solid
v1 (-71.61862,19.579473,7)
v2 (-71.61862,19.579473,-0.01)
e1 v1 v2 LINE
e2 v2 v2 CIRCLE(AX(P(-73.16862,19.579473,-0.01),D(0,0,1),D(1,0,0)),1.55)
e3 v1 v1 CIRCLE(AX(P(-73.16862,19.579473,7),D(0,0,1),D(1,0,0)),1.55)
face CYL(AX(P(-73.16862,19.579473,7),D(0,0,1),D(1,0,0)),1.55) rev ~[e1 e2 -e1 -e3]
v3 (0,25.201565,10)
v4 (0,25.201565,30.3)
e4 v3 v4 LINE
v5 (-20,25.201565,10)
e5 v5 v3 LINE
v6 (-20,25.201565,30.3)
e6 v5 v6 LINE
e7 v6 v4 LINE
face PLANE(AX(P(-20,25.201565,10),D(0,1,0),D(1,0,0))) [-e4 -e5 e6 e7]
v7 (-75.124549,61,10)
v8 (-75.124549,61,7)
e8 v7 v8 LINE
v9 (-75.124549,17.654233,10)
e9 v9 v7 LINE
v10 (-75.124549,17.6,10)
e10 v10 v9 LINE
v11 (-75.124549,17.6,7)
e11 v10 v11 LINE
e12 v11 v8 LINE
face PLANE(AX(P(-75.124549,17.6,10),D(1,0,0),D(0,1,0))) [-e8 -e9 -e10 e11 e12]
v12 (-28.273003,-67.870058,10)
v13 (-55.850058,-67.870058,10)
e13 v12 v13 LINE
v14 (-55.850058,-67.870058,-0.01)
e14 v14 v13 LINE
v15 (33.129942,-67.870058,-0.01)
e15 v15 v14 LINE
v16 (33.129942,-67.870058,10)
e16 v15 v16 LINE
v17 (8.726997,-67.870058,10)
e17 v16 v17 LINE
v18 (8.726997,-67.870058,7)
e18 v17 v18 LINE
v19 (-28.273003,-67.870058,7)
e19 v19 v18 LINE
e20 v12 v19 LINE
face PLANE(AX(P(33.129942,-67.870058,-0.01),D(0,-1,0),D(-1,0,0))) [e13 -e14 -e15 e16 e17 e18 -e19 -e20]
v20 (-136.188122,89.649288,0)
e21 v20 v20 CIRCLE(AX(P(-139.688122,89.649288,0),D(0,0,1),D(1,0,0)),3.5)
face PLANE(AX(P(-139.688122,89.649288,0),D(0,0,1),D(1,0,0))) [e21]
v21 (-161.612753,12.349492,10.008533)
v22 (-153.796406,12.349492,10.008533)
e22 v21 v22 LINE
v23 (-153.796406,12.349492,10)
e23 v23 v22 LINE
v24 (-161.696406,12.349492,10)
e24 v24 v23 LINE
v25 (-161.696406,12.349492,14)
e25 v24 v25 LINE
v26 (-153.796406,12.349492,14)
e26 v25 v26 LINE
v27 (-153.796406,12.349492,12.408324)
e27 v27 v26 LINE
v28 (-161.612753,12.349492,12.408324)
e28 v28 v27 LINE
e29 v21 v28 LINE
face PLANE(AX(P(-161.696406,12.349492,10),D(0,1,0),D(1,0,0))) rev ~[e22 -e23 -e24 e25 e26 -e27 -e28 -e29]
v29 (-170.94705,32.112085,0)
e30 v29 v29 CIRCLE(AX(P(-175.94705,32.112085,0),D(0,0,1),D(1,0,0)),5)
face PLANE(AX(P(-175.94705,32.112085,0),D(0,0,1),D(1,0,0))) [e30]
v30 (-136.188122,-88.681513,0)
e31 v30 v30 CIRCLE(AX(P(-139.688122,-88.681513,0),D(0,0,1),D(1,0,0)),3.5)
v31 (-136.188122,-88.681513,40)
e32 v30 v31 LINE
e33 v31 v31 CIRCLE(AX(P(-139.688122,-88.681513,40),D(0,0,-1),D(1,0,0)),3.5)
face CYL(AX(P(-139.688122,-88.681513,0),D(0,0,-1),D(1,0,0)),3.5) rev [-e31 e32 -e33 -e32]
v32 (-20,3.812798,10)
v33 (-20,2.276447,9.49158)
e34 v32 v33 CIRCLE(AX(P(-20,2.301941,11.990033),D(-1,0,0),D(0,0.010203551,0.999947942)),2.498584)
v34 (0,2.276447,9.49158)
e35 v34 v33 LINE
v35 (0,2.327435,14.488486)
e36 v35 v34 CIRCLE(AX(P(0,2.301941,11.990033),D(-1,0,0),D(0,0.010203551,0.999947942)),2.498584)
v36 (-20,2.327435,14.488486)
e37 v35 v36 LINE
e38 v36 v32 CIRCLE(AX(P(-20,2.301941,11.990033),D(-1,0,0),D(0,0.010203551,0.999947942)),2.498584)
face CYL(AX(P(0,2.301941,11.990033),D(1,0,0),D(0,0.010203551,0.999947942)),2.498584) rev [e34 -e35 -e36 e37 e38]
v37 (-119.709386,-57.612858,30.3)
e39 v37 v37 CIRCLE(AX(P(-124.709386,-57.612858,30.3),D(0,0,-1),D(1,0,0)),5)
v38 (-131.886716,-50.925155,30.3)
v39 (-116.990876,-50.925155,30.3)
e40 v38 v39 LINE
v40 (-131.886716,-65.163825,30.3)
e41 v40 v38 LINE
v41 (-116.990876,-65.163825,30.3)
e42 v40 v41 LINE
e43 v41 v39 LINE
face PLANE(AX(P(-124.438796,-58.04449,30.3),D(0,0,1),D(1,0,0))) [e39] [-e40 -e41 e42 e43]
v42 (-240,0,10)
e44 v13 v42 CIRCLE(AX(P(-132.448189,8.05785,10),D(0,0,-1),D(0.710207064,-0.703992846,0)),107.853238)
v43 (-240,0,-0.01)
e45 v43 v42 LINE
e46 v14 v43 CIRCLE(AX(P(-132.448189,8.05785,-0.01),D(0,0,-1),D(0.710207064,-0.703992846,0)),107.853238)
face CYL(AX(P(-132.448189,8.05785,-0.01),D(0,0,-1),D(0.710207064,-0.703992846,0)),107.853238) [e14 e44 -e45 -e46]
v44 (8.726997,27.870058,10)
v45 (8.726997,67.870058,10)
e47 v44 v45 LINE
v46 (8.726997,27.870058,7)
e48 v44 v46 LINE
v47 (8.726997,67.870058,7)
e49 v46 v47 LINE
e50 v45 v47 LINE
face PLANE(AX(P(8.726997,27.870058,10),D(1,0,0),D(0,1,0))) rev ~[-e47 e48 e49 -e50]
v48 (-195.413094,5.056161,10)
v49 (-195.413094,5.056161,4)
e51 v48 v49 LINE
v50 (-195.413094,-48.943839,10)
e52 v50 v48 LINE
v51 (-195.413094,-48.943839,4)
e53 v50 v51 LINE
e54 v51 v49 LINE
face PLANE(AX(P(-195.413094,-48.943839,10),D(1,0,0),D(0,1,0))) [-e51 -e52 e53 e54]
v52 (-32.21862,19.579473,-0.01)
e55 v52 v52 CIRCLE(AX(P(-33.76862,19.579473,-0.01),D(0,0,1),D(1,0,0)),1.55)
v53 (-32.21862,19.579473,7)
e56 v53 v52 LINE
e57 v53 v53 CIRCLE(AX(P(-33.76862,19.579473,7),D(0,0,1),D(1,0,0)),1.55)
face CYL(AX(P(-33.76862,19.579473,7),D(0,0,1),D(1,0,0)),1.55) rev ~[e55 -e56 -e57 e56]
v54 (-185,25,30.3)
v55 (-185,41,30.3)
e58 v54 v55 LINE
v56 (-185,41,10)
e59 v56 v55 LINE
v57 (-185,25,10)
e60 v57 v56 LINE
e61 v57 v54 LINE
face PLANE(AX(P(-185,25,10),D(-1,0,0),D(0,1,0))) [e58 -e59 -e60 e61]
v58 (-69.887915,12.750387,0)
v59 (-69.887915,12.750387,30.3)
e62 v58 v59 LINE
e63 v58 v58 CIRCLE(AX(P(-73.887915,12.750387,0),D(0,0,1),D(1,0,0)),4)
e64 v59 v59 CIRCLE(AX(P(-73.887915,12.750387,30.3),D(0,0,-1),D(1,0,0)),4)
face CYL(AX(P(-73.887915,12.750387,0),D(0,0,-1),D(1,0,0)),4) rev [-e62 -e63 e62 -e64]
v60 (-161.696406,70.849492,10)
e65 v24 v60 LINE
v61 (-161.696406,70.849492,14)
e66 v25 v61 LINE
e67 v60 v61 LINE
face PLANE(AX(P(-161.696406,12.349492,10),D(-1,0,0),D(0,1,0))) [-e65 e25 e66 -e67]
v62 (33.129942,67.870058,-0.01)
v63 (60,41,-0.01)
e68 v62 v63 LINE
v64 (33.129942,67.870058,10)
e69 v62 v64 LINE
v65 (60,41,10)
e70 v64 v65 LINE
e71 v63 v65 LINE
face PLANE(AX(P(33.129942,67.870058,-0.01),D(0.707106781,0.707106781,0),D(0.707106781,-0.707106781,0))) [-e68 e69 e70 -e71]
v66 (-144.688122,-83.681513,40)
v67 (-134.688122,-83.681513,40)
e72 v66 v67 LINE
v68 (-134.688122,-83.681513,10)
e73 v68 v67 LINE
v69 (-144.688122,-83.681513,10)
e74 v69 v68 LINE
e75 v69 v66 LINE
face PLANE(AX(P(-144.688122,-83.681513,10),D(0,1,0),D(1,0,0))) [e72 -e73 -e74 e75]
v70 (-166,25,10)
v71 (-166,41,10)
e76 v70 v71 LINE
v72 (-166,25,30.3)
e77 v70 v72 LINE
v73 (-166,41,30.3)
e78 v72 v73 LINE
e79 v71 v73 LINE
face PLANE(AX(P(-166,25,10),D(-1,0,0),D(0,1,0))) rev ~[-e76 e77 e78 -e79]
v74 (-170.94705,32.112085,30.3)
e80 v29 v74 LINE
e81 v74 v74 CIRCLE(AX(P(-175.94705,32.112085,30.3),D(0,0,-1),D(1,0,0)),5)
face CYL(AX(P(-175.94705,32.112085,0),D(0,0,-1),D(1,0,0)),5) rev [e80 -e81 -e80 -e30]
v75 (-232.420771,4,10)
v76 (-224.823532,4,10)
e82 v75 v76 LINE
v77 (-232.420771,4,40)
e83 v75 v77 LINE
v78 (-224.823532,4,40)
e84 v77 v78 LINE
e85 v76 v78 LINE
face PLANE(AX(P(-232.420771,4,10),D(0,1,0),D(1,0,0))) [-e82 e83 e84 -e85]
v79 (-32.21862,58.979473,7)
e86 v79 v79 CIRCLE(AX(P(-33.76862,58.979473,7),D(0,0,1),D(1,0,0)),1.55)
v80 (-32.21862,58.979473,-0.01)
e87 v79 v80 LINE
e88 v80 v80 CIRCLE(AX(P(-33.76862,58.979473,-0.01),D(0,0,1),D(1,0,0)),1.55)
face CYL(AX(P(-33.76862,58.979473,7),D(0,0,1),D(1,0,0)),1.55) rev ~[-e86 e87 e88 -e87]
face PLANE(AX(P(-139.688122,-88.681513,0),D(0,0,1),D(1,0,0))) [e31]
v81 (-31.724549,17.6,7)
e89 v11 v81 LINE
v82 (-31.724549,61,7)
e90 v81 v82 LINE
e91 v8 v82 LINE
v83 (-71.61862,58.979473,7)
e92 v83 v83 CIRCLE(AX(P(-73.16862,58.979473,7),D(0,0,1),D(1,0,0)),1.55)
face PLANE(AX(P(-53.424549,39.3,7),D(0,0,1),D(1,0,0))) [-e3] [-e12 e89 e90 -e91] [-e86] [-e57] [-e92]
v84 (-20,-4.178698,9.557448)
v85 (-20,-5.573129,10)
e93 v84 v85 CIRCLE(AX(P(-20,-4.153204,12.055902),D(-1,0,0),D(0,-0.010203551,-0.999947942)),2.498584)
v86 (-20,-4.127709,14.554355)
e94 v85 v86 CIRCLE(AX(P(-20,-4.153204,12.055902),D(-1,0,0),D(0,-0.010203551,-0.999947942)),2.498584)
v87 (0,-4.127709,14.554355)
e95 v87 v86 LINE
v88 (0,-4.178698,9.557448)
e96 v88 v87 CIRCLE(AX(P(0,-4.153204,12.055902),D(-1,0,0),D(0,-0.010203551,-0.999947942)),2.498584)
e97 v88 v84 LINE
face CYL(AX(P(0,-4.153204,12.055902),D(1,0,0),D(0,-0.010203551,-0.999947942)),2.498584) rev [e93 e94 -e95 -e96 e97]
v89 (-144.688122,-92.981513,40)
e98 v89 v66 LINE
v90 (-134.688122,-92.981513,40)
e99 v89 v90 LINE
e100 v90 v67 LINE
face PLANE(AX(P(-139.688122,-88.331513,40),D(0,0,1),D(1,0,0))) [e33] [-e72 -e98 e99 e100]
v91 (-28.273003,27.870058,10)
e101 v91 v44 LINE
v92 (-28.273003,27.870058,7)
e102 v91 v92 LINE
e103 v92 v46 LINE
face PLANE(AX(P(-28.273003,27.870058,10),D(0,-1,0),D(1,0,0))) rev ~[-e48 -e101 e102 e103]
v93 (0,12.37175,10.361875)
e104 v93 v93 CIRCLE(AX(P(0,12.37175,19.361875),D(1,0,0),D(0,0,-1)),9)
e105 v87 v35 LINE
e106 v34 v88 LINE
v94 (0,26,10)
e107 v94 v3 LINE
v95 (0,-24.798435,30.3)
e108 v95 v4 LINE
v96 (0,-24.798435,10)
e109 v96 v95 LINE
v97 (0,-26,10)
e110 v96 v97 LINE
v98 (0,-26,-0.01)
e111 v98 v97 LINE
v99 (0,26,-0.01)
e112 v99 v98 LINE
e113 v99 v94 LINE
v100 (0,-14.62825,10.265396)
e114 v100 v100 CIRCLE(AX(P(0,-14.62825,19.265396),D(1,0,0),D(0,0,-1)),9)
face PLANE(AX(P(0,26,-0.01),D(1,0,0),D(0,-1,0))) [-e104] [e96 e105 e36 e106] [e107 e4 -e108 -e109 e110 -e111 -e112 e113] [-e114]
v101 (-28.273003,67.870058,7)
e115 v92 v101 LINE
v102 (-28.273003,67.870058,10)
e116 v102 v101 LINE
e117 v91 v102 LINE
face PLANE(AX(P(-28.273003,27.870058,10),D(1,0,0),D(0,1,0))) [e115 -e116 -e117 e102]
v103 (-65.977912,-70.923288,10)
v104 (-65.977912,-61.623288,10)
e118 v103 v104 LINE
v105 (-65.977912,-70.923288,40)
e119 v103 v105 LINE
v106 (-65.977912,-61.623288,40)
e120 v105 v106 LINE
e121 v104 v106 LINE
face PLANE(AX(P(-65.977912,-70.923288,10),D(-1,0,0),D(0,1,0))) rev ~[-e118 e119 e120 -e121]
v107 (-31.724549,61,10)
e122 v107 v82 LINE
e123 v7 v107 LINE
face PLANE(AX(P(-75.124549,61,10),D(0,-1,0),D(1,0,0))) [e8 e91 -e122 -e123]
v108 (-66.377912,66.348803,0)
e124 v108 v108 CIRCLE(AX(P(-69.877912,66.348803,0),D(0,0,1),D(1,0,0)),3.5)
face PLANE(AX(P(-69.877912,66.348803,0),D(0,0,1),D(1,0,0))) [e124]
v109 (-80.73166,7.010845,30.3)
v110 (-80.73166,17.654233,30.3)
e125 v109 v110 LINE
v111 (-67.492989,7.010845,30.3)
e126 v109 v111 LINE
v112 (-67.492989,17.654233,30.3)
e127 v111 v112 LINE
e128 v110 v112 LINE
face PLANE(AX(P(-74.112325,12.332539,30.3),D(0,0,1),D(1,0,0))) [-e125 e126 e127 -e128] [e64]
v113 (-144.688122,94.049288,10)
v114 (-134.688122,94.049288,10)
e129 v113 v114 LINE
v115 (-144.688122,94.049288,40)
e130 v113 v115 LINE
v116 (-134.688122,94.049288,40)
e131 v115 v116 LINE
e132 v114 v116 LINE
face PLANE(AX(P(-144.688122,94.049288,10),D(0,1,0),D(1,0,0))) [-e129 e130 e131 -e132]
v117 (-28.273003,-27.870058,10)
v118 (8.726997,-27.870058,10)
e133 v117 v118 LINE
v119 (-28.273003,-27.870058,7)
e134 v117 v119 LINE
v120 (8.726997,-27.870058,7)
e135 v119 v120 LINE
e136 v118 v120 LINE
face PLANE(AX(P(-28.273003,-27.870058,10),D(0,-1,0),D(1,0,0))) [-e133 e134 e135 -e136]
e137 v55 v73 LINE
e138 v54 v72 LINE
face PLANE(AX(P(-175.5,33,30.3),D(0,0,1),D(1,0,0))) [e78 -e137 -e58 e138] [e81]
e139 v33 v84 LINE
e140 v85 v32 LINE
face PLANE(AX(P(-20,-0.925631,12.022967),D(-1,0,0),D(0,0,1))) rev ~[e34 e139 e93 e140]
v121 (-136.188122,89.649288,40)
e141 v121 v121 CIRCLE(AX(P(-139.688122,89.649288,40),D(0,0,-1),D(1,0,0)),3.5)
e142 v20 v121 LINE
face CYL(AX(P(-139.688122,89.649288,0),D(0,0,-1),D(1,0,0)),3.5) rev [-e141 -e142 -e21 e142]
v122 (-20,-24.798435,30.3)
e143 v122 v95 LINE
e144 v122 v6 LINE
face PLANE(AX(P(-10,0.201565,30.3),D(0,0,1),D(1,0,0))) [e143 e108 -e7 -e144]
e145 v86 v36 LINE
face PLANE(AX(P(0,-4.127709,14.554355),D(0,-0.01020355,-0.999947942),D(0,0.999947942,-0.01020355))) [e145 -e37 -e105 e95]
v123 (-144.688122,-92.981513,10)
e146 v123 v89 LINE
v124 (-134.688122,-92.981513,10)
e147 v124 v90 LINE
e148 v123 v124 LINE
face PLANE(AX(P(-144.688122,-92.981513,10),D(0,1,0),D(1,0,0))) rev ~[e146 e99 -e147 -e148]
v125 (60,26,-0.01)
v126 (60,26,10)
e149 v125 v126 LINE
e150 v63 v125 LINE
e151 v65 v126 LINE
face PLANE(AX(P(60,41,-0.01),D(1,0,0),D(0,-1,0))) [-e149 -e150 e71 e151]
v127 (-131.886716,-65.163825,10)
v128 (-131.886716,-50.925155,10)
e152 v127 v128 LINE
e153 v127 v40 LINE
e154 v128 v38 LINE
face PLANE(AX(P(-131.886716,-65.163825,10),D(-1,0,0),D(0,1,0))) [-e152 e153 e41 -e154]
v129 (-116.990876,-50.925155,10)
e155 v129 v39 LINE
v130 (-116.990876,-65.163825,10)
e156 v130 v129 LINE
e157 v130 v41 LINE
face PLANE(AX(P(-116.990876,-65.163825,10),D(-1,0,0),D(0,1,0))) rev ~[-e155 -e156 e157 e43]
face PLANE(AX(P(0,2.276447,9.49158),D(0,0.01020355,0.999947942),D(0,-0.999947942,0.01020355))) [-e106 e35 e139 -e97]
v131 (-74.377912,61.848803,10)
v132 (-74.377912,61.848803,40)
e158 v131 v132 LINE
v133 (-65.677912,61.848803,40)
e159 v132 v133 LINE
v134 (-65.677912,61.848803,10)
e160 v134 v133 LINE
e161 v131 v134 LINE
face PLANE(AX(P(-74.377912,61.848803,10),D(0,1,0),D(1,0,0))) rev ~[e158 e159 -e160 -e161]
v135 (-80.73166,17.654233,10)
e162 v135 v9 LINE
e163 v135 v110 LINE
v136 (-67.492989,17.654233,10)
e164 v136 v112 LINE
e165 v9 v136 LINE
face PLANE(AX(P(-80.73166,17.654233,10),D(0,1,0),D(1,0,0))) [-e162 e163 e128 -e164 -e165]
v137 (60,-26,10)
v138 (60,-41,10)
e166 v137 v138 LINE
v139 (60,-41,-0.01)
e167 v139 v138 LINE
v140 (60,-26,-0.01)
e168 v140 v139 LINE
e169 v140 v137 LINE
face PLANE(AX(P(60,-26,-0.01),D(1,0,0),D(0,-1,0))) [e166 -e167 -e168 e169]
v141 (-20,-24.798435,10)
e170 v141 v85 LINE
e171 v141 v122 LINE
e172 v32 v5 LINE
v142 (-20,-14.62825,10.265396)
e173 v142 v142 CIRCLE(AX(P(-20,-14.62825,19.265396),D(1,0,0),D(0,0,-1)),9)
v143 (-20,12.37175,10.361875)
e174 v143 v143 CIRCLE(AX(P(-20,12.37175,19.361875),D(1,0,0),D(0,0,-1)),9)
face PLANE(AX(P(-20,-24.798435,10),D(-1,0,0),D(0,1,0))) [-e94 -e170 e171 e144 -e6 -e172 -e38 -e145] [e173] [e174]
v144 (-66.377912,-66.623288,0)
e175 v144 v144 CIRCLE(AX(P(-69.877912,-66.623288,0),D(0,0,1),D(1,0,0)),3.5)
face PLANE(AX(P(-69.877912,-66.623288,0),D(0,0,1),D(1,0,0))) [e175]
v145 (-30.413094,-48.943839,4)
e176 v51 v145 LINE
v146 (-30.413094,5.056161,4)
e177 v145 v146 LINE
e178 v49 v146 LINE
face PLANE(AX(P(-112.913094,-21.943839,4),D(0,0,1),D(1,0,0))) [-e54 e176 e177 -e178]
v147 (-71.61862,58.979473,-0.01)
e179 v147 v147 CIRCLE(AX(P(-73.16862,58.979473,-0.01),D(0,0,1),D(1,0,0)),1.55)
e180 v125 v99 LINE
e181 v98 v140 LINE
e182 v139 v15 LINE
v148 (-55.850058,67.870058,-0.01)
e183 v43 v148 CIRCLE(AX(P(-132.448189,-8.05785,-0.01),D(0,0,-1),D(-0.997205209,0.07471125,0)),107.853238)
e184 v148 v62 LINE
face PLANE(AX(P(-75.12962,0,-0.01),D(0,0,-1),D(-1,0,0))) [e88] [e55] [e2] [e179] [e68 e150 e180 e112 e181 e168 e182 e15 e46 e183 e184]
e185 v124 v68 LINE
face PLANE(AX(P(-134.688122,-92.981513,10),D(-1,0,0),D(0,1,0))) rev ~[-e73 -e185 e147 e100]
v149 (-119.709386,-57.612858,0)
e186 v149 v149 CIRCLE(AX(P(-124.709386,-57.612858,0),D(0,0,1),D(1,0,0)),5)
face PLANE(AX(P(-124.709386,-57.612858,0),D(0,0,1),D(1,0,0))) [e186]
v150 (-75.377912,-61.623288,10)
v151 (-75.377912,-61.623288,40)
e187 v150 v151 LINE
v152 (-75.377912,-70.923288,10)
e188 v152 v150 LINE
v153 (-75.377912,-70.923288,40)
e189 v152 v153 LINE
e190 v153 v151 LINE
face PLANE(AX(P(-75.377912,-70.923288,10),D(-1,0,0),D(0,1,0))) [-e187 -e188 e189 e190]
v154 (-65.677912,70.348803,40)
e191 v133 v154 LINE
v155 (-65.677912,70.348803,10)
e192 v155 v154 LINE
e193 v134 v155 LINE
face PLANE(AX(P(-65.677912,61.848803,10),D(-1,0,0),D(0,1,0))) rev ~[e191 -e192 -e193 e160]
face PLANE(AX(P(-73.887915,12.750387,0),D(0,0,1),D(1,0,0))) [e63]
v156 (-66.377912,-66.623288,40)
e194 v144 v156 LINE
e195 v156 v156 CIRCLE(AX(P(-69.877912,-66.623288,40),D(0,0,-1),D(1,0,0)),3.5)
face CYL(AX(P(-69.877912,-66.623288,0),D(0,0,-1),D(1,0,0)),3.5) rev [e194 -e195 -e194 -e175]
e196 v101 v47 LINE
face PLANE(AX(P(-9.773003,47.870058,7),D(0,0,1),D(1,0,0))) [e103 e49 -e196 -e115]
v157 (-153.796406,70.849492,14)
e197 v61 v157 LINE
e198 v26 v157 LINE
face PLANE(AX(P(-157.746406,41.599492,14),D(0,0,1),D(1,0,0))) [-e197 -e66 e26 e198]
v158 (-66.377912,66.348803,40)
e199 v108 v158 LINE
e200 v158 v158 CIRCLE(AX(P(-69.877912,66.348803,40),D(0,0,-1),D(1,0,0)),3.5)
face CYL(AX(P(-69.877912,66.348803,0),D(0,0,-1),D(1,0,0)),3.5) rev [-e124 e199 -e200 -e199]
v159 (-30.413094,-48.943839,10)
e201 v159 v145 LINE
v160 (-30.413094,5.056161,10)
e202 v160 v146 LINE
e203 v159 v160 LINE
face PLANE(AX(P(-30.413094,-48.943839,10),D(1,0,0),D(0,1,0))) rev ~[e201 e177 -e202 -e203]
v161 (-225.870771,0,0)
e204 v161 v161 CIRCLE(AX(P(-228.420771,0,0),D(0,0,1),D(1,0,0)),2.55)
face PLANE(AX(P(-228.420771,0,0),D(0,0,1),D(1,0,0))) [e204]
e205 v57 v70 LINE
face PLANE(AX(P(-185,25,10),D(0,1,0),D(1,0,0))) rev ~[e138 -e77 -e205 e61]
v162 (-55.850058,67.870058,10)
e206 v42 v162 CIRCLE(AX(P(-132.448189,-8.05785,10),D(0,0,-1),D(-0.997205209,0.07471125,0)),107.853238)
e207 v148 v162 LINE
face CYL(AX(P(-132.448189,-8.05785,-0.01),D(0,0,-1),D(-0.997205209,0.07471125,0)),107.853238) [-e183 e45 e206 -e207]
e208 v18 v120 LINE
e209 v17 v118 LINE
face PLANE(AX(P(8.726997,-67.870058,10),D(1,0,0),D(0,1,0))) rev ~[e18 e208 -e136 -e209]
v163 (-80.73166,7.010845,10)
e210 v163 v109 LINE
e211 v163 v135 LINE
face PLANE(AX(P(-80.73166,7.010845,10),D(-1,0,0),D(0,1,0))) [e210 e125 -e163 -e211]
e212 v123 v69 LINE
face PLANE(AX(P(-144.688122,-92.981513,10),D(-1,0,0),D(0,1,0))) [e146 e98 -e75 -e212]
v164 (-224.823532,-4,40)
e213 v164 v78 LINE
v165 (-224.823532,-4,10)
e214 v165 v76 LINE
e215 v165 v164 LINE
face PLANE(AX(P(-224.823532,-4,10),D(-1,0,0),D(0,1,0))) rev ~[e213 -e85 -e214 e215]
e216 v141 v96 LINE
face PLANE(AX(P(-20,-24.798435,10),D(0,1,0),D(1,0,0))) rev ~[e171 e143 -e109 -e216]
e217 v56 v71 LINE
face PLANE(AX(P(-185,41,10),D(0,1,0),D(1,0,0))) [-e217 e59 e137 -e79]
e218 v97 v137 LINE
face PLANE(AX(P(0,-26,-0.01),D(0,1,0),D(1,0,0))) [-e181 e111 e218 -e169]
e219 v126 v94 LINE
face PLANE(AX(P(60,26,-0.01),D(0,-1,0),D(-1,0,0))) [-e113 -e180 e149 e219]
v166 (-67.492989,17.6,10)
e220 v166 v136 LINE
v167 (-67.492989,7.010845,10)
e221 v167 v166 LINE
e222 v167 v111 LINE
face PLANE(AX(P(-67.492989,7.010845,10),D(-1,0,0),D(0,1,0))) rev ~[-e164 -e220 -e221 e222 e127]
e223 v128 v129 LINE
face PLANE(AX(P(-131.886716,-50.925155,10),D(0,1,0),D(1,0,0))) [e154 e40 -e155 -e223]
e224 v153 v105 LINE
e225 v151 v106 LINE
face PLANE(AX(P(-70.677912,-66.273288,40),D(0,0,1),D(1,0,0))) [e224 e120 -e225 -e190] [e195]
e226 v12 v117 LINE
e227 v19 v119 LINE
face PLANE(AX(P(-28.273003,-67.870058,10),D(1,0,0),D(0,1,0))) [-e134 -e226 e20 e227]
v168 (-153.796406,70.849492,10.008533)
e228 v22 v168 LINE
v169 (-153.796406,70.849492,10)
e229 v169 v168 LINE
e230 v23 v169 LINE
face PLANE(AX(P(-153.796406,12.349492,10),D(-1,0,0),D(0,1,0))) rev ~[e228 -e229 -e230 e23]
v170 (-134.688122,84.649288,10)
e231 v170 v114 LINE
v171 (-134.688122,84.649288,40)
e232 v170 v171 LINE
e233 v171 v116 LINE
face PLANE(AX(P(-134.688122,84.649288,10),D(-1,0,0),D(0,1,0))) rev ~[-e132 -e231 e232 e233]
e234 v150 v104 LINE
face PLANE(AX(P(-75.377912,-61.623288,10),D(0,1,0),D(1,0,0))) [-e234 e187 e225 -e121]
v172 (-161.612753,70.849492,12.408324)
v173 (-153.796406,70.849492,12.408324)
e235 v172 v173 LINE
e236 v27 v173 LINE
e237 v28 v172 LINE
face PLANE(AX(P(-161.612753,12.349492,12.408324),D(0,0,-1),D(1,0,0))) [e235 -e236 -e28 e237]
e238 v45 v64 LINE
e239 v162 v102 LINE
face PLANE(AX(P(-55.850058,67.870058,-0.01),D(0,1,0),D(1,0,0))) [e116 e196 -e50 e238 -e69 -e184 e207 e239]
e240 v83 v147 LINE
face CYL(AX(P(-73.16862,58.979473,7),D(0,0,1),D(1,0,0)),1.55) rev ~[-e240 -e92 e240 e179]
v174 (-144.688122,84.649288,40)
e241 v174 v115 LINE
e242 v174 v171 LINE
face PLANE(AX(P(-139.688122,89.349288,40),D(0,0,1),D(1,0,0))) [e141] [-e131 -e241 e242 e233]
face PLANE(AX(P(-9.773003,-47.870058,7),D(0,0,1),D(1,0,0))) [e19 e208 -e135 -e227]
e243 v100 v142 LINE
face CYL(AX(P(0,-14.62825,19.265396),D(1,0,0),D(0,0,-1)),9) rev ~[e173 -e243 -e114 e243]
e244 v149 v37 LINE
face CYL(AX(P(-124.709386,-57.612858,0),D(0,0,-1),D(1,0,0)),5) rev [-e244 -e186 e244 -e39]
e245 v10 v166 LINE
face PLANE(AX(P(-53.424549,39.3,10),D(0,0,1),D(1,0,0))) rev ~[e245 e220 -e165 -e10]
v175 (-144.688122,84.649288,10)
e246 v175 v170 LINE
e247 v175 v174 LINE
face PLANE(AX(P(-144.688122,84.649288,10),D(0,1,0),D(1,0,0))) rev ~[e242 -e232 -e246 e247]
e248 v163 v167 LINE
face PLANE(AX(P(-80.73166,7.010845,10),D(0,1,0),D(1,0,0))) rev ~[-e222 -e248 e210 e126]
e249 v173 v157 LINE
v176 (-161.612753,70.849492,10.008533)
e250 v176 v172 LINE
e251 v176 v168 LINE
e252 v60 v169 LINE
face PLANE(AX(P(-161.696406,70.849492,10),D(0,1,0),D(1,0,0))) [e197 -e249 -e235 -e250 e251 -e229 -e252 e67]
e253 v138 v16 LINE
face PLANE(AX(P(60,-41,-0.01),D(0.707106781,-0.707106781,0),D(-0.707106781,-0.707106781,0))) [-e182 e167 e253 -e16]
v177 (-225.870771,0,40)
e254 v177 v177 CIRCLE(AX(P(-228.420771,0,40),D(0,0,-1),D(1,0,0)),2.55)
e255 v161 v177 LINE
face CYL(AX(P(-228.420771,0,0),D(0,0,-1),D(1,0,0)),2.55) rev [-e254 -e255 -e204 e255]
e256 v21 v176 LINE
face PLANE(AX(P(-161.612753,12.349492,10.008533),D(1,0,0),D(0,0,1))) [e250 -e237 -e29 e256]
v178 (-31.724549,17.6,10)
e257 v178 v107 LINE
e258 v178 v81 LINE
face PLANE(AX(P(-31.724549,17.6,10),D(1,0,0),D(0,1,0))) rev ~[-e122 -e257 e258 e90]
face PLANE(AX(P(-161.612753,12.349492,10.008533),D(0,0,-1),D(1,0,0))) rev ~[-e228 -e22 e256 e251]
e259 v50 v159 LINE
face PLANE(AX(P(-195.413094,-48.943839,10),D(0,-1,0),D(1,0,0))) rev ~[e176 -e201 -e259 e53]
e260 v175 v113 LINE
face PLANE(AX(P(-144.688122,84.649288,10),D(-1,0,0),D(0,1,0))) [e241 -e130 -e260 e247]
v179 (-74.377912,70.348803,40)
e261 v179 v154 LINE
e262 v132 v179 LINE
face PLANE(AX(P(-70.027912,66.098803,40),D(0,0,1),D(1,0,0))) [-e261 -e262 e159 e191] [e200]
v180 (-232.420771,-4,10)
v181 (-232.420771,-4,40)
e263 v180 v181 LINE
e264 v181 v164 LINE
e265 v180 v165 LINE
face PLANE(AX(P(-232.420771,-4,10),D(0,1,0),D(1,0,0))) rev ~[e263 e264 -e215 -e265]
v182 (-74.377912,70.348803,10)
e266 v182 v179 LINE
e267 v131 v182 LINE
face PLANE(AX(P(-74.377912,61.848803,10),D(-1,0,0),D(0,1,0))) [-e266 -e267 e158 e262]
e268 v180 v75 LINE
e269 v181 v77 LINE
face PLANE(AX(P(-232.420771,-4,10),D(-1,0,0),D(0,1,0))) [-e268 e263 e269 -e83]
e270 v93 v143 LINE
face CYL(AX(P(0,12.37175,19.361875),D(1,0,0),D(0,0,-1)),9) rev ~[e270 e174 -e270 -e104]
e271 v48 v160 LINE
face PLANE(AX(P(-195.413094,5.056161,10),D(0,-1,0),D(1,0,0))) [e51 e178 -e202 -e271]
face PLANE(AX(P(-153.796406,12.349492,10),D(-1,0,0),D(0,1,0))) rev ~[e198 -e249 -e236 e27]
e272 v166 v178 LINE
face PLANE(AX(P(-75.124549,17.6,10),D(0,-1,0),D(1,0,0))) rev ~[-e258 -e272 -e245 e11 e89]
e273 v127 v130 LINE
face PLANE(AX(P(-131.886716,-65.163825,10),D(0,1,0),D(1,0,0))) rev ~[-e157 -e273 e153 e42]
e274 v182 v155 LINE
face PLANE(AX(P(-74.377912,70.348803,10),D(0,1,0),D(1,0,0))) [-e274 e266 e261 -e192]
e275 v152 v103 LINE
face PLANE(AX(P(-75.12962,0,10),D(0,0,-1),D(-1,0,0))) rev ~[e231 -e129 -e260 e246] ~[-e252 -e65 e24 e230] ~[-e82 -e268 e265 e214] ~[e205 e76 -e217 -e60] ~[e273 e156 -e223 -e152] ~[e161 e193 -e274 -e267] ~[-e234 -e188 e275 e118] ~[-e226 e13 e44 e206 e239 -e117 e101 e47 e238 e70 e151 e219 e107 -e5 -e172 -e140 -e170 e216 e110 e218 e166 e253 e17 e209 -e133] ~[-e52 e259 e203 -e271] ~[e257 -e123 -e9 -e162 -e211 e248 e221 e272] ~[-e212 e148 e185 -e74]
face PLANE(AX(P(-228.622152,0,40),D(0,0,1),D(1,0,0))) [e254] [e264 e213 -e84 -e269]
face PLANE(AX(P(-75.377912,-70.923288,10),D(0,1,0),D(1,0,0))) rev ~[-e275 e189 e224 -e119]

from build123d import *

# Parameters (mm, degrees)
BOSS_EXTRUDE1_DEPTH      = 10
BOSS_EXTRUDE1_DEPTH_BACK = 0.01
SKETCH3_W                = 37
SKETCH3_H                = 40
CUT_EXTRUDE1_DEPTH       = 3
SKETCH5_W                = 37
SKETCH5_H                = 40
CUT_EXTRUDE3_DEPTH       = 3
SKETCH7_W                = 165
SKETCH7_H                = 54
CUT_EXTRUDE4_DEPTH       = 6
SKETCH9_W                = 19
SKETCH9_H                = 16
SKETCH9_W_2              = 13.23867097
SKETCH9_H_2              = 10.64338859
SKETCH9_W_3              = 14.8958404
SKETCH9_H_3              = 14.23867097
BOSS_EXTRUDE2_DEPTH      = 20.3
SKETCH15_W               = 20
SKETCH15_H               = 50
BOSS_EXTRUDE3_DEPTH      = 20.3
SKETCH16_W               = 7.597238681
SKETCH16_H               = 8
SKETCH16_W_2             = 10
SKETCH16_H_2             = 9.4
SKETCH16_W_3             = 8.7
SKETCH16_H_3             = 8.5
SKETCH16_W_4             = 9.4
SKETCH16_H_4             = 9.3
BOSS_EXTRUDE4_DEPTH      = 30
SKETCH17_R               = 2.55
SKETCH17_R_2             = 3.5
CUT_EXTRUDE17_DEPTH      = 263.98121496
SKETCH18_W               = 43.4
SKETCH18_H               = 43.4
CUT_EXTRUDE18_DEPTH      = 3
SKETCH20_R               = 5
SKETCH20_R_2             = 4
CUT_EXTRUDE20_DEPTH      = 263.98121496
SKETCH21_R               = 9
CUT_EXTRUDE21_DEPTH      = 20
SKETCH22_R               = 1.55
CUT_EXTRUDE23_DEPTH      = 263.007861374
SKETCH25_W               = 7.9
SKETCH25_H               = 58.5
BOSS_EXTRUDE5_DEPTH      = 4
SKETCH26_W               = 7.816347336
SKETCH26_H               = 2.399791276
CUT_EXTRUDE24_DEPTH      = 58.5


with BuildPart() as part:
    # Sketch1 → Boss-Extrude1 (new, two sides: drawn at the far end of the back side and taken through both)
    with BuildSketch(Plane.XY.offset(-BOSS_EXTRUDE1_DEPTH_BACK)):
        with BuildLine():
            Line((0, 0), (0, -26))
            Line((0, -26), (60, -26))
            Line((60, -26), (60, -41))
            Line((60, -41), (33.129942315, -67.870057685))
            Line((33.129942315, -67.870057685), (-55.850057685, -67.870057685))
            ThreePointArc((-55.850057685, -67.870057685), (-169.745893523, -93.14097487), (-240, 0))
            ThreePointArc((-240, 0), (-169.745893523, 93.14097487), (-55.850057685, 67.870057685))
            Line((-55.850057685, 67.870057685), (33.129942315, 67.870057685))
            Line((33.129942315, 67.870057685), (60, 41))
            Line((60, 41), (60, 26))
            Line((60, 26), (0, 26))
            Line((0, 26), (0, 0))
        make_face()
    extrude(amount=BOSS_EXTRUDE1_DEPTH + BOSS_EXTRUDE1_DEPTH_BACK)

    # Sketch3 → Cut-Extrude1 (cut)
    with BuildSketch(Plane.XY.offset(10)):
        with Locations((-9.773002586, 47.870057685)):
            Rectangle(SKETCH3_W, SKETCH3_H)
    extrude(amount=-CUT_EXTRUDE1_DEPTH, mode=Mode.SUBTRACT)

    # Sketch5 → Cut-Extrude3 (cut)
    with BuildSketch(Plane.XY.offset(10)):
        with Locations((-9.773002586, -47.870057685)):
            Rectangle(SKETCH5_W, SKETCH5_H)
    extrude(amount=-CUT_EXTRUDE3_DEPTH, mode=Mode.SUBTRACT)

    # Sketch7 → Cut-Extrude4 (cut)
    with BuildSketch(Plane.XY.offset(10)):
        with Locations((-112.913094129, -21.943838981)):
            Rectangle(SKETCH7_W, SKETCH7_H)
    extrude(amount=-CUT_EXTRUDE4_DEPTH, mode=Mode.SUBTRACT)

    # Sketch9 → Boss-Extrude2 (add)
    with BuildSketch(Plane.XY.offset(10)):
        with Locations((-175.5, 33)):
            Rectangle(SKETCH9_W, SKETCH9_H)
        with Locations((-74.112324575, 12.332539195)):
            Rectangle(SKETCH9_W_2, SKETCH9_H_2)
        with Locations((-124.438795754, -58.044490005)):
            Rectangle(SKETCH9_W_3, SKETCH9_H_3)
    extrude(amount=BOSS_EXTRUDE2_DEPTH)

    # Sketch15 → Boss-Extrude3 (add)
    with BuildSketch(Plane.XY.offset(10)):
        with Locations((-10, 0.20156489)):
            Rectangle(SKETCH15_W, SKETCH15_H)
    extrude(amount=BOSS_EXTRUDE3_DEPTH)

    # Sketch16 → Boss-Extrude4 (add)
    with BuildSketch(Plane.XY.offset(10)):
        with Locations((-228.62215183, 0)):
            Rectangle(SKETCH16_W, SKETCH16_H)
        with Locations((-139.68812176, 89.3492876)):
            Rectangle(SKETCH16_W_2, SKETCH16_H_2)
        with Locations((-70.02791219, 66.09880262)):
            Rectangle(SKETCH16_W_3, SKETCH16_H_3)
        with Locations((-70.67791219, -66.2732878)):
            Rectangle(SKETCH16_W_4, SKETCH16_H_4)
        with Locations((-139.68812176, -88.33151307)):
            Rectangle(SKETCH16_W_2, SKETCH16_H_4)
    extrude(amount=BOSS_EXTRUDE4_DEPTH)

    # Sketch17 → Cut-Extrude17 (cut, through all)
    with BuildSketch(Plane.XY):
        with Locations((-228.42077117, 0)):
            Circle(SKETCH17_R)
        with Locations((-139.68812176, 89.6492876)):
            Circle(SKETCH17_R_2)
        with Locations((-69.87791219, 66.34880262)):
            Circle(SKETCH17_R_2)
        with Locations((-69.87791219, -66.6232878)):
            Circle(SKETCH17_R_2)
        with Locations((-139.68812176, -88.68151307)):
            Circle(SKETCH17_R_2)
    extrude(amount=CUT_EXTRUDE17_DEPTH, mode=Mode.SUBTRACT)

    # Sketch18 → Cut-Extrude18 (cut)
    with BuildSketch(Plane.XY.offset(10)):
        with Locations((-53.424548955, 39.3)):
            Rectangle(SKETCH18_W, SKETCH18_H)
    extrude(amount=-CUT_EXTRUDE18_DEPTH, mode=Mode.SUBTRACT)

    # Sketch20 → Cut-Extrude20 (cut, through all)
    with BuildSketch(Plane.XY):
        with Locations((-175.947050483, 32.112084796)):
            Circle(SKETCH20_R)
        with Locations((-124.709385772, -57.612858016)):
            Circle(SKETCH20_R)
        with Locations((-73.8879152, 12.75038661)):
            Circle(SKETCH20_R_2)
    extrude(amount=CUT_EXTRUDE20_DEPTH, mode=Mode.SUBTRACT)

    # Sketch21 → Cut-Extrude21 (cut)
    with BuildSketch(Plane(origin=(0, 0, 0), x_dir=(0, 0, -1), z_dir=(1, 0, 0))):
        with Locations((-19.36187505, 12.37175029)):
            Circle(SKETCH21_R)
        with Locations((-19.26539558, -14.62824971)):
            Circle(SKETCH21_R)
        with BuildLine():
            Line((-9.491579533, 2.276446619), (-9.557448357, -4.178698144))
            ThreePointArc((-9.557448357, -4.178698144), (-12.081396215, -6.651657156), (-14.554355227, -4.127709299))
            Line((-14.554355227, -4.127709299), (-14.488486403, 2.327435464))
            ThreePointArc((-14.488486403, 2.327435464), (-11.964538545, 4.800394476), (-9.491579533, 2.276446619))
        make_face()
    extrude(amount=-CUT_EXTRUDE21_DEPTH, mode=Mode.SUBTRACT)

    # Sketch22 → Cut-Extrude23 (cut, through all)
    with BuildSketch(Plane.XY.offset(7)):
        with Locations((-73.168620443, 58.97947337)):
            Circle(SKETCH22_R)
        with Locations((-33.768620443, 58.97947337)):
            Circle(SKETCH22_R)
        with Locations((-33.768620443, 19.57947337)):
            Circle(SKETCH22_R)
        with Locations((-73.168620443, 19.57947337)):
            Circle(SKETCH22_R)
    extrude(amount=-CUT_EXTRUDE23_DEPTH, mode=Mode.SUBTRACT)

    # Sketch25 → Boss-Extrude5 (add)
    with BuildSketch(Plane.XY.offset(10)):
        with Locations((-157.74640613, 41.59949177)):
            Rectangle(SKETCH25_W, SKETCH25_H)
    extrude(amount=BOSS_EXTRUDE5_DEPTH)

    # Sketch26 → Cut-Extrude24 (cut)
    with BuildSketch(Plane.XZ.offset(-12.34949177)):
        with Locations((-157.704579798, 11.208428435)):
            Rectangle(SKETCH26_W, SKETCH26_H)
    extrude(amount=-CUT_EXTRUDE24_DEPTH, mode=Mode.SUBTRACT)


solid = part.part
